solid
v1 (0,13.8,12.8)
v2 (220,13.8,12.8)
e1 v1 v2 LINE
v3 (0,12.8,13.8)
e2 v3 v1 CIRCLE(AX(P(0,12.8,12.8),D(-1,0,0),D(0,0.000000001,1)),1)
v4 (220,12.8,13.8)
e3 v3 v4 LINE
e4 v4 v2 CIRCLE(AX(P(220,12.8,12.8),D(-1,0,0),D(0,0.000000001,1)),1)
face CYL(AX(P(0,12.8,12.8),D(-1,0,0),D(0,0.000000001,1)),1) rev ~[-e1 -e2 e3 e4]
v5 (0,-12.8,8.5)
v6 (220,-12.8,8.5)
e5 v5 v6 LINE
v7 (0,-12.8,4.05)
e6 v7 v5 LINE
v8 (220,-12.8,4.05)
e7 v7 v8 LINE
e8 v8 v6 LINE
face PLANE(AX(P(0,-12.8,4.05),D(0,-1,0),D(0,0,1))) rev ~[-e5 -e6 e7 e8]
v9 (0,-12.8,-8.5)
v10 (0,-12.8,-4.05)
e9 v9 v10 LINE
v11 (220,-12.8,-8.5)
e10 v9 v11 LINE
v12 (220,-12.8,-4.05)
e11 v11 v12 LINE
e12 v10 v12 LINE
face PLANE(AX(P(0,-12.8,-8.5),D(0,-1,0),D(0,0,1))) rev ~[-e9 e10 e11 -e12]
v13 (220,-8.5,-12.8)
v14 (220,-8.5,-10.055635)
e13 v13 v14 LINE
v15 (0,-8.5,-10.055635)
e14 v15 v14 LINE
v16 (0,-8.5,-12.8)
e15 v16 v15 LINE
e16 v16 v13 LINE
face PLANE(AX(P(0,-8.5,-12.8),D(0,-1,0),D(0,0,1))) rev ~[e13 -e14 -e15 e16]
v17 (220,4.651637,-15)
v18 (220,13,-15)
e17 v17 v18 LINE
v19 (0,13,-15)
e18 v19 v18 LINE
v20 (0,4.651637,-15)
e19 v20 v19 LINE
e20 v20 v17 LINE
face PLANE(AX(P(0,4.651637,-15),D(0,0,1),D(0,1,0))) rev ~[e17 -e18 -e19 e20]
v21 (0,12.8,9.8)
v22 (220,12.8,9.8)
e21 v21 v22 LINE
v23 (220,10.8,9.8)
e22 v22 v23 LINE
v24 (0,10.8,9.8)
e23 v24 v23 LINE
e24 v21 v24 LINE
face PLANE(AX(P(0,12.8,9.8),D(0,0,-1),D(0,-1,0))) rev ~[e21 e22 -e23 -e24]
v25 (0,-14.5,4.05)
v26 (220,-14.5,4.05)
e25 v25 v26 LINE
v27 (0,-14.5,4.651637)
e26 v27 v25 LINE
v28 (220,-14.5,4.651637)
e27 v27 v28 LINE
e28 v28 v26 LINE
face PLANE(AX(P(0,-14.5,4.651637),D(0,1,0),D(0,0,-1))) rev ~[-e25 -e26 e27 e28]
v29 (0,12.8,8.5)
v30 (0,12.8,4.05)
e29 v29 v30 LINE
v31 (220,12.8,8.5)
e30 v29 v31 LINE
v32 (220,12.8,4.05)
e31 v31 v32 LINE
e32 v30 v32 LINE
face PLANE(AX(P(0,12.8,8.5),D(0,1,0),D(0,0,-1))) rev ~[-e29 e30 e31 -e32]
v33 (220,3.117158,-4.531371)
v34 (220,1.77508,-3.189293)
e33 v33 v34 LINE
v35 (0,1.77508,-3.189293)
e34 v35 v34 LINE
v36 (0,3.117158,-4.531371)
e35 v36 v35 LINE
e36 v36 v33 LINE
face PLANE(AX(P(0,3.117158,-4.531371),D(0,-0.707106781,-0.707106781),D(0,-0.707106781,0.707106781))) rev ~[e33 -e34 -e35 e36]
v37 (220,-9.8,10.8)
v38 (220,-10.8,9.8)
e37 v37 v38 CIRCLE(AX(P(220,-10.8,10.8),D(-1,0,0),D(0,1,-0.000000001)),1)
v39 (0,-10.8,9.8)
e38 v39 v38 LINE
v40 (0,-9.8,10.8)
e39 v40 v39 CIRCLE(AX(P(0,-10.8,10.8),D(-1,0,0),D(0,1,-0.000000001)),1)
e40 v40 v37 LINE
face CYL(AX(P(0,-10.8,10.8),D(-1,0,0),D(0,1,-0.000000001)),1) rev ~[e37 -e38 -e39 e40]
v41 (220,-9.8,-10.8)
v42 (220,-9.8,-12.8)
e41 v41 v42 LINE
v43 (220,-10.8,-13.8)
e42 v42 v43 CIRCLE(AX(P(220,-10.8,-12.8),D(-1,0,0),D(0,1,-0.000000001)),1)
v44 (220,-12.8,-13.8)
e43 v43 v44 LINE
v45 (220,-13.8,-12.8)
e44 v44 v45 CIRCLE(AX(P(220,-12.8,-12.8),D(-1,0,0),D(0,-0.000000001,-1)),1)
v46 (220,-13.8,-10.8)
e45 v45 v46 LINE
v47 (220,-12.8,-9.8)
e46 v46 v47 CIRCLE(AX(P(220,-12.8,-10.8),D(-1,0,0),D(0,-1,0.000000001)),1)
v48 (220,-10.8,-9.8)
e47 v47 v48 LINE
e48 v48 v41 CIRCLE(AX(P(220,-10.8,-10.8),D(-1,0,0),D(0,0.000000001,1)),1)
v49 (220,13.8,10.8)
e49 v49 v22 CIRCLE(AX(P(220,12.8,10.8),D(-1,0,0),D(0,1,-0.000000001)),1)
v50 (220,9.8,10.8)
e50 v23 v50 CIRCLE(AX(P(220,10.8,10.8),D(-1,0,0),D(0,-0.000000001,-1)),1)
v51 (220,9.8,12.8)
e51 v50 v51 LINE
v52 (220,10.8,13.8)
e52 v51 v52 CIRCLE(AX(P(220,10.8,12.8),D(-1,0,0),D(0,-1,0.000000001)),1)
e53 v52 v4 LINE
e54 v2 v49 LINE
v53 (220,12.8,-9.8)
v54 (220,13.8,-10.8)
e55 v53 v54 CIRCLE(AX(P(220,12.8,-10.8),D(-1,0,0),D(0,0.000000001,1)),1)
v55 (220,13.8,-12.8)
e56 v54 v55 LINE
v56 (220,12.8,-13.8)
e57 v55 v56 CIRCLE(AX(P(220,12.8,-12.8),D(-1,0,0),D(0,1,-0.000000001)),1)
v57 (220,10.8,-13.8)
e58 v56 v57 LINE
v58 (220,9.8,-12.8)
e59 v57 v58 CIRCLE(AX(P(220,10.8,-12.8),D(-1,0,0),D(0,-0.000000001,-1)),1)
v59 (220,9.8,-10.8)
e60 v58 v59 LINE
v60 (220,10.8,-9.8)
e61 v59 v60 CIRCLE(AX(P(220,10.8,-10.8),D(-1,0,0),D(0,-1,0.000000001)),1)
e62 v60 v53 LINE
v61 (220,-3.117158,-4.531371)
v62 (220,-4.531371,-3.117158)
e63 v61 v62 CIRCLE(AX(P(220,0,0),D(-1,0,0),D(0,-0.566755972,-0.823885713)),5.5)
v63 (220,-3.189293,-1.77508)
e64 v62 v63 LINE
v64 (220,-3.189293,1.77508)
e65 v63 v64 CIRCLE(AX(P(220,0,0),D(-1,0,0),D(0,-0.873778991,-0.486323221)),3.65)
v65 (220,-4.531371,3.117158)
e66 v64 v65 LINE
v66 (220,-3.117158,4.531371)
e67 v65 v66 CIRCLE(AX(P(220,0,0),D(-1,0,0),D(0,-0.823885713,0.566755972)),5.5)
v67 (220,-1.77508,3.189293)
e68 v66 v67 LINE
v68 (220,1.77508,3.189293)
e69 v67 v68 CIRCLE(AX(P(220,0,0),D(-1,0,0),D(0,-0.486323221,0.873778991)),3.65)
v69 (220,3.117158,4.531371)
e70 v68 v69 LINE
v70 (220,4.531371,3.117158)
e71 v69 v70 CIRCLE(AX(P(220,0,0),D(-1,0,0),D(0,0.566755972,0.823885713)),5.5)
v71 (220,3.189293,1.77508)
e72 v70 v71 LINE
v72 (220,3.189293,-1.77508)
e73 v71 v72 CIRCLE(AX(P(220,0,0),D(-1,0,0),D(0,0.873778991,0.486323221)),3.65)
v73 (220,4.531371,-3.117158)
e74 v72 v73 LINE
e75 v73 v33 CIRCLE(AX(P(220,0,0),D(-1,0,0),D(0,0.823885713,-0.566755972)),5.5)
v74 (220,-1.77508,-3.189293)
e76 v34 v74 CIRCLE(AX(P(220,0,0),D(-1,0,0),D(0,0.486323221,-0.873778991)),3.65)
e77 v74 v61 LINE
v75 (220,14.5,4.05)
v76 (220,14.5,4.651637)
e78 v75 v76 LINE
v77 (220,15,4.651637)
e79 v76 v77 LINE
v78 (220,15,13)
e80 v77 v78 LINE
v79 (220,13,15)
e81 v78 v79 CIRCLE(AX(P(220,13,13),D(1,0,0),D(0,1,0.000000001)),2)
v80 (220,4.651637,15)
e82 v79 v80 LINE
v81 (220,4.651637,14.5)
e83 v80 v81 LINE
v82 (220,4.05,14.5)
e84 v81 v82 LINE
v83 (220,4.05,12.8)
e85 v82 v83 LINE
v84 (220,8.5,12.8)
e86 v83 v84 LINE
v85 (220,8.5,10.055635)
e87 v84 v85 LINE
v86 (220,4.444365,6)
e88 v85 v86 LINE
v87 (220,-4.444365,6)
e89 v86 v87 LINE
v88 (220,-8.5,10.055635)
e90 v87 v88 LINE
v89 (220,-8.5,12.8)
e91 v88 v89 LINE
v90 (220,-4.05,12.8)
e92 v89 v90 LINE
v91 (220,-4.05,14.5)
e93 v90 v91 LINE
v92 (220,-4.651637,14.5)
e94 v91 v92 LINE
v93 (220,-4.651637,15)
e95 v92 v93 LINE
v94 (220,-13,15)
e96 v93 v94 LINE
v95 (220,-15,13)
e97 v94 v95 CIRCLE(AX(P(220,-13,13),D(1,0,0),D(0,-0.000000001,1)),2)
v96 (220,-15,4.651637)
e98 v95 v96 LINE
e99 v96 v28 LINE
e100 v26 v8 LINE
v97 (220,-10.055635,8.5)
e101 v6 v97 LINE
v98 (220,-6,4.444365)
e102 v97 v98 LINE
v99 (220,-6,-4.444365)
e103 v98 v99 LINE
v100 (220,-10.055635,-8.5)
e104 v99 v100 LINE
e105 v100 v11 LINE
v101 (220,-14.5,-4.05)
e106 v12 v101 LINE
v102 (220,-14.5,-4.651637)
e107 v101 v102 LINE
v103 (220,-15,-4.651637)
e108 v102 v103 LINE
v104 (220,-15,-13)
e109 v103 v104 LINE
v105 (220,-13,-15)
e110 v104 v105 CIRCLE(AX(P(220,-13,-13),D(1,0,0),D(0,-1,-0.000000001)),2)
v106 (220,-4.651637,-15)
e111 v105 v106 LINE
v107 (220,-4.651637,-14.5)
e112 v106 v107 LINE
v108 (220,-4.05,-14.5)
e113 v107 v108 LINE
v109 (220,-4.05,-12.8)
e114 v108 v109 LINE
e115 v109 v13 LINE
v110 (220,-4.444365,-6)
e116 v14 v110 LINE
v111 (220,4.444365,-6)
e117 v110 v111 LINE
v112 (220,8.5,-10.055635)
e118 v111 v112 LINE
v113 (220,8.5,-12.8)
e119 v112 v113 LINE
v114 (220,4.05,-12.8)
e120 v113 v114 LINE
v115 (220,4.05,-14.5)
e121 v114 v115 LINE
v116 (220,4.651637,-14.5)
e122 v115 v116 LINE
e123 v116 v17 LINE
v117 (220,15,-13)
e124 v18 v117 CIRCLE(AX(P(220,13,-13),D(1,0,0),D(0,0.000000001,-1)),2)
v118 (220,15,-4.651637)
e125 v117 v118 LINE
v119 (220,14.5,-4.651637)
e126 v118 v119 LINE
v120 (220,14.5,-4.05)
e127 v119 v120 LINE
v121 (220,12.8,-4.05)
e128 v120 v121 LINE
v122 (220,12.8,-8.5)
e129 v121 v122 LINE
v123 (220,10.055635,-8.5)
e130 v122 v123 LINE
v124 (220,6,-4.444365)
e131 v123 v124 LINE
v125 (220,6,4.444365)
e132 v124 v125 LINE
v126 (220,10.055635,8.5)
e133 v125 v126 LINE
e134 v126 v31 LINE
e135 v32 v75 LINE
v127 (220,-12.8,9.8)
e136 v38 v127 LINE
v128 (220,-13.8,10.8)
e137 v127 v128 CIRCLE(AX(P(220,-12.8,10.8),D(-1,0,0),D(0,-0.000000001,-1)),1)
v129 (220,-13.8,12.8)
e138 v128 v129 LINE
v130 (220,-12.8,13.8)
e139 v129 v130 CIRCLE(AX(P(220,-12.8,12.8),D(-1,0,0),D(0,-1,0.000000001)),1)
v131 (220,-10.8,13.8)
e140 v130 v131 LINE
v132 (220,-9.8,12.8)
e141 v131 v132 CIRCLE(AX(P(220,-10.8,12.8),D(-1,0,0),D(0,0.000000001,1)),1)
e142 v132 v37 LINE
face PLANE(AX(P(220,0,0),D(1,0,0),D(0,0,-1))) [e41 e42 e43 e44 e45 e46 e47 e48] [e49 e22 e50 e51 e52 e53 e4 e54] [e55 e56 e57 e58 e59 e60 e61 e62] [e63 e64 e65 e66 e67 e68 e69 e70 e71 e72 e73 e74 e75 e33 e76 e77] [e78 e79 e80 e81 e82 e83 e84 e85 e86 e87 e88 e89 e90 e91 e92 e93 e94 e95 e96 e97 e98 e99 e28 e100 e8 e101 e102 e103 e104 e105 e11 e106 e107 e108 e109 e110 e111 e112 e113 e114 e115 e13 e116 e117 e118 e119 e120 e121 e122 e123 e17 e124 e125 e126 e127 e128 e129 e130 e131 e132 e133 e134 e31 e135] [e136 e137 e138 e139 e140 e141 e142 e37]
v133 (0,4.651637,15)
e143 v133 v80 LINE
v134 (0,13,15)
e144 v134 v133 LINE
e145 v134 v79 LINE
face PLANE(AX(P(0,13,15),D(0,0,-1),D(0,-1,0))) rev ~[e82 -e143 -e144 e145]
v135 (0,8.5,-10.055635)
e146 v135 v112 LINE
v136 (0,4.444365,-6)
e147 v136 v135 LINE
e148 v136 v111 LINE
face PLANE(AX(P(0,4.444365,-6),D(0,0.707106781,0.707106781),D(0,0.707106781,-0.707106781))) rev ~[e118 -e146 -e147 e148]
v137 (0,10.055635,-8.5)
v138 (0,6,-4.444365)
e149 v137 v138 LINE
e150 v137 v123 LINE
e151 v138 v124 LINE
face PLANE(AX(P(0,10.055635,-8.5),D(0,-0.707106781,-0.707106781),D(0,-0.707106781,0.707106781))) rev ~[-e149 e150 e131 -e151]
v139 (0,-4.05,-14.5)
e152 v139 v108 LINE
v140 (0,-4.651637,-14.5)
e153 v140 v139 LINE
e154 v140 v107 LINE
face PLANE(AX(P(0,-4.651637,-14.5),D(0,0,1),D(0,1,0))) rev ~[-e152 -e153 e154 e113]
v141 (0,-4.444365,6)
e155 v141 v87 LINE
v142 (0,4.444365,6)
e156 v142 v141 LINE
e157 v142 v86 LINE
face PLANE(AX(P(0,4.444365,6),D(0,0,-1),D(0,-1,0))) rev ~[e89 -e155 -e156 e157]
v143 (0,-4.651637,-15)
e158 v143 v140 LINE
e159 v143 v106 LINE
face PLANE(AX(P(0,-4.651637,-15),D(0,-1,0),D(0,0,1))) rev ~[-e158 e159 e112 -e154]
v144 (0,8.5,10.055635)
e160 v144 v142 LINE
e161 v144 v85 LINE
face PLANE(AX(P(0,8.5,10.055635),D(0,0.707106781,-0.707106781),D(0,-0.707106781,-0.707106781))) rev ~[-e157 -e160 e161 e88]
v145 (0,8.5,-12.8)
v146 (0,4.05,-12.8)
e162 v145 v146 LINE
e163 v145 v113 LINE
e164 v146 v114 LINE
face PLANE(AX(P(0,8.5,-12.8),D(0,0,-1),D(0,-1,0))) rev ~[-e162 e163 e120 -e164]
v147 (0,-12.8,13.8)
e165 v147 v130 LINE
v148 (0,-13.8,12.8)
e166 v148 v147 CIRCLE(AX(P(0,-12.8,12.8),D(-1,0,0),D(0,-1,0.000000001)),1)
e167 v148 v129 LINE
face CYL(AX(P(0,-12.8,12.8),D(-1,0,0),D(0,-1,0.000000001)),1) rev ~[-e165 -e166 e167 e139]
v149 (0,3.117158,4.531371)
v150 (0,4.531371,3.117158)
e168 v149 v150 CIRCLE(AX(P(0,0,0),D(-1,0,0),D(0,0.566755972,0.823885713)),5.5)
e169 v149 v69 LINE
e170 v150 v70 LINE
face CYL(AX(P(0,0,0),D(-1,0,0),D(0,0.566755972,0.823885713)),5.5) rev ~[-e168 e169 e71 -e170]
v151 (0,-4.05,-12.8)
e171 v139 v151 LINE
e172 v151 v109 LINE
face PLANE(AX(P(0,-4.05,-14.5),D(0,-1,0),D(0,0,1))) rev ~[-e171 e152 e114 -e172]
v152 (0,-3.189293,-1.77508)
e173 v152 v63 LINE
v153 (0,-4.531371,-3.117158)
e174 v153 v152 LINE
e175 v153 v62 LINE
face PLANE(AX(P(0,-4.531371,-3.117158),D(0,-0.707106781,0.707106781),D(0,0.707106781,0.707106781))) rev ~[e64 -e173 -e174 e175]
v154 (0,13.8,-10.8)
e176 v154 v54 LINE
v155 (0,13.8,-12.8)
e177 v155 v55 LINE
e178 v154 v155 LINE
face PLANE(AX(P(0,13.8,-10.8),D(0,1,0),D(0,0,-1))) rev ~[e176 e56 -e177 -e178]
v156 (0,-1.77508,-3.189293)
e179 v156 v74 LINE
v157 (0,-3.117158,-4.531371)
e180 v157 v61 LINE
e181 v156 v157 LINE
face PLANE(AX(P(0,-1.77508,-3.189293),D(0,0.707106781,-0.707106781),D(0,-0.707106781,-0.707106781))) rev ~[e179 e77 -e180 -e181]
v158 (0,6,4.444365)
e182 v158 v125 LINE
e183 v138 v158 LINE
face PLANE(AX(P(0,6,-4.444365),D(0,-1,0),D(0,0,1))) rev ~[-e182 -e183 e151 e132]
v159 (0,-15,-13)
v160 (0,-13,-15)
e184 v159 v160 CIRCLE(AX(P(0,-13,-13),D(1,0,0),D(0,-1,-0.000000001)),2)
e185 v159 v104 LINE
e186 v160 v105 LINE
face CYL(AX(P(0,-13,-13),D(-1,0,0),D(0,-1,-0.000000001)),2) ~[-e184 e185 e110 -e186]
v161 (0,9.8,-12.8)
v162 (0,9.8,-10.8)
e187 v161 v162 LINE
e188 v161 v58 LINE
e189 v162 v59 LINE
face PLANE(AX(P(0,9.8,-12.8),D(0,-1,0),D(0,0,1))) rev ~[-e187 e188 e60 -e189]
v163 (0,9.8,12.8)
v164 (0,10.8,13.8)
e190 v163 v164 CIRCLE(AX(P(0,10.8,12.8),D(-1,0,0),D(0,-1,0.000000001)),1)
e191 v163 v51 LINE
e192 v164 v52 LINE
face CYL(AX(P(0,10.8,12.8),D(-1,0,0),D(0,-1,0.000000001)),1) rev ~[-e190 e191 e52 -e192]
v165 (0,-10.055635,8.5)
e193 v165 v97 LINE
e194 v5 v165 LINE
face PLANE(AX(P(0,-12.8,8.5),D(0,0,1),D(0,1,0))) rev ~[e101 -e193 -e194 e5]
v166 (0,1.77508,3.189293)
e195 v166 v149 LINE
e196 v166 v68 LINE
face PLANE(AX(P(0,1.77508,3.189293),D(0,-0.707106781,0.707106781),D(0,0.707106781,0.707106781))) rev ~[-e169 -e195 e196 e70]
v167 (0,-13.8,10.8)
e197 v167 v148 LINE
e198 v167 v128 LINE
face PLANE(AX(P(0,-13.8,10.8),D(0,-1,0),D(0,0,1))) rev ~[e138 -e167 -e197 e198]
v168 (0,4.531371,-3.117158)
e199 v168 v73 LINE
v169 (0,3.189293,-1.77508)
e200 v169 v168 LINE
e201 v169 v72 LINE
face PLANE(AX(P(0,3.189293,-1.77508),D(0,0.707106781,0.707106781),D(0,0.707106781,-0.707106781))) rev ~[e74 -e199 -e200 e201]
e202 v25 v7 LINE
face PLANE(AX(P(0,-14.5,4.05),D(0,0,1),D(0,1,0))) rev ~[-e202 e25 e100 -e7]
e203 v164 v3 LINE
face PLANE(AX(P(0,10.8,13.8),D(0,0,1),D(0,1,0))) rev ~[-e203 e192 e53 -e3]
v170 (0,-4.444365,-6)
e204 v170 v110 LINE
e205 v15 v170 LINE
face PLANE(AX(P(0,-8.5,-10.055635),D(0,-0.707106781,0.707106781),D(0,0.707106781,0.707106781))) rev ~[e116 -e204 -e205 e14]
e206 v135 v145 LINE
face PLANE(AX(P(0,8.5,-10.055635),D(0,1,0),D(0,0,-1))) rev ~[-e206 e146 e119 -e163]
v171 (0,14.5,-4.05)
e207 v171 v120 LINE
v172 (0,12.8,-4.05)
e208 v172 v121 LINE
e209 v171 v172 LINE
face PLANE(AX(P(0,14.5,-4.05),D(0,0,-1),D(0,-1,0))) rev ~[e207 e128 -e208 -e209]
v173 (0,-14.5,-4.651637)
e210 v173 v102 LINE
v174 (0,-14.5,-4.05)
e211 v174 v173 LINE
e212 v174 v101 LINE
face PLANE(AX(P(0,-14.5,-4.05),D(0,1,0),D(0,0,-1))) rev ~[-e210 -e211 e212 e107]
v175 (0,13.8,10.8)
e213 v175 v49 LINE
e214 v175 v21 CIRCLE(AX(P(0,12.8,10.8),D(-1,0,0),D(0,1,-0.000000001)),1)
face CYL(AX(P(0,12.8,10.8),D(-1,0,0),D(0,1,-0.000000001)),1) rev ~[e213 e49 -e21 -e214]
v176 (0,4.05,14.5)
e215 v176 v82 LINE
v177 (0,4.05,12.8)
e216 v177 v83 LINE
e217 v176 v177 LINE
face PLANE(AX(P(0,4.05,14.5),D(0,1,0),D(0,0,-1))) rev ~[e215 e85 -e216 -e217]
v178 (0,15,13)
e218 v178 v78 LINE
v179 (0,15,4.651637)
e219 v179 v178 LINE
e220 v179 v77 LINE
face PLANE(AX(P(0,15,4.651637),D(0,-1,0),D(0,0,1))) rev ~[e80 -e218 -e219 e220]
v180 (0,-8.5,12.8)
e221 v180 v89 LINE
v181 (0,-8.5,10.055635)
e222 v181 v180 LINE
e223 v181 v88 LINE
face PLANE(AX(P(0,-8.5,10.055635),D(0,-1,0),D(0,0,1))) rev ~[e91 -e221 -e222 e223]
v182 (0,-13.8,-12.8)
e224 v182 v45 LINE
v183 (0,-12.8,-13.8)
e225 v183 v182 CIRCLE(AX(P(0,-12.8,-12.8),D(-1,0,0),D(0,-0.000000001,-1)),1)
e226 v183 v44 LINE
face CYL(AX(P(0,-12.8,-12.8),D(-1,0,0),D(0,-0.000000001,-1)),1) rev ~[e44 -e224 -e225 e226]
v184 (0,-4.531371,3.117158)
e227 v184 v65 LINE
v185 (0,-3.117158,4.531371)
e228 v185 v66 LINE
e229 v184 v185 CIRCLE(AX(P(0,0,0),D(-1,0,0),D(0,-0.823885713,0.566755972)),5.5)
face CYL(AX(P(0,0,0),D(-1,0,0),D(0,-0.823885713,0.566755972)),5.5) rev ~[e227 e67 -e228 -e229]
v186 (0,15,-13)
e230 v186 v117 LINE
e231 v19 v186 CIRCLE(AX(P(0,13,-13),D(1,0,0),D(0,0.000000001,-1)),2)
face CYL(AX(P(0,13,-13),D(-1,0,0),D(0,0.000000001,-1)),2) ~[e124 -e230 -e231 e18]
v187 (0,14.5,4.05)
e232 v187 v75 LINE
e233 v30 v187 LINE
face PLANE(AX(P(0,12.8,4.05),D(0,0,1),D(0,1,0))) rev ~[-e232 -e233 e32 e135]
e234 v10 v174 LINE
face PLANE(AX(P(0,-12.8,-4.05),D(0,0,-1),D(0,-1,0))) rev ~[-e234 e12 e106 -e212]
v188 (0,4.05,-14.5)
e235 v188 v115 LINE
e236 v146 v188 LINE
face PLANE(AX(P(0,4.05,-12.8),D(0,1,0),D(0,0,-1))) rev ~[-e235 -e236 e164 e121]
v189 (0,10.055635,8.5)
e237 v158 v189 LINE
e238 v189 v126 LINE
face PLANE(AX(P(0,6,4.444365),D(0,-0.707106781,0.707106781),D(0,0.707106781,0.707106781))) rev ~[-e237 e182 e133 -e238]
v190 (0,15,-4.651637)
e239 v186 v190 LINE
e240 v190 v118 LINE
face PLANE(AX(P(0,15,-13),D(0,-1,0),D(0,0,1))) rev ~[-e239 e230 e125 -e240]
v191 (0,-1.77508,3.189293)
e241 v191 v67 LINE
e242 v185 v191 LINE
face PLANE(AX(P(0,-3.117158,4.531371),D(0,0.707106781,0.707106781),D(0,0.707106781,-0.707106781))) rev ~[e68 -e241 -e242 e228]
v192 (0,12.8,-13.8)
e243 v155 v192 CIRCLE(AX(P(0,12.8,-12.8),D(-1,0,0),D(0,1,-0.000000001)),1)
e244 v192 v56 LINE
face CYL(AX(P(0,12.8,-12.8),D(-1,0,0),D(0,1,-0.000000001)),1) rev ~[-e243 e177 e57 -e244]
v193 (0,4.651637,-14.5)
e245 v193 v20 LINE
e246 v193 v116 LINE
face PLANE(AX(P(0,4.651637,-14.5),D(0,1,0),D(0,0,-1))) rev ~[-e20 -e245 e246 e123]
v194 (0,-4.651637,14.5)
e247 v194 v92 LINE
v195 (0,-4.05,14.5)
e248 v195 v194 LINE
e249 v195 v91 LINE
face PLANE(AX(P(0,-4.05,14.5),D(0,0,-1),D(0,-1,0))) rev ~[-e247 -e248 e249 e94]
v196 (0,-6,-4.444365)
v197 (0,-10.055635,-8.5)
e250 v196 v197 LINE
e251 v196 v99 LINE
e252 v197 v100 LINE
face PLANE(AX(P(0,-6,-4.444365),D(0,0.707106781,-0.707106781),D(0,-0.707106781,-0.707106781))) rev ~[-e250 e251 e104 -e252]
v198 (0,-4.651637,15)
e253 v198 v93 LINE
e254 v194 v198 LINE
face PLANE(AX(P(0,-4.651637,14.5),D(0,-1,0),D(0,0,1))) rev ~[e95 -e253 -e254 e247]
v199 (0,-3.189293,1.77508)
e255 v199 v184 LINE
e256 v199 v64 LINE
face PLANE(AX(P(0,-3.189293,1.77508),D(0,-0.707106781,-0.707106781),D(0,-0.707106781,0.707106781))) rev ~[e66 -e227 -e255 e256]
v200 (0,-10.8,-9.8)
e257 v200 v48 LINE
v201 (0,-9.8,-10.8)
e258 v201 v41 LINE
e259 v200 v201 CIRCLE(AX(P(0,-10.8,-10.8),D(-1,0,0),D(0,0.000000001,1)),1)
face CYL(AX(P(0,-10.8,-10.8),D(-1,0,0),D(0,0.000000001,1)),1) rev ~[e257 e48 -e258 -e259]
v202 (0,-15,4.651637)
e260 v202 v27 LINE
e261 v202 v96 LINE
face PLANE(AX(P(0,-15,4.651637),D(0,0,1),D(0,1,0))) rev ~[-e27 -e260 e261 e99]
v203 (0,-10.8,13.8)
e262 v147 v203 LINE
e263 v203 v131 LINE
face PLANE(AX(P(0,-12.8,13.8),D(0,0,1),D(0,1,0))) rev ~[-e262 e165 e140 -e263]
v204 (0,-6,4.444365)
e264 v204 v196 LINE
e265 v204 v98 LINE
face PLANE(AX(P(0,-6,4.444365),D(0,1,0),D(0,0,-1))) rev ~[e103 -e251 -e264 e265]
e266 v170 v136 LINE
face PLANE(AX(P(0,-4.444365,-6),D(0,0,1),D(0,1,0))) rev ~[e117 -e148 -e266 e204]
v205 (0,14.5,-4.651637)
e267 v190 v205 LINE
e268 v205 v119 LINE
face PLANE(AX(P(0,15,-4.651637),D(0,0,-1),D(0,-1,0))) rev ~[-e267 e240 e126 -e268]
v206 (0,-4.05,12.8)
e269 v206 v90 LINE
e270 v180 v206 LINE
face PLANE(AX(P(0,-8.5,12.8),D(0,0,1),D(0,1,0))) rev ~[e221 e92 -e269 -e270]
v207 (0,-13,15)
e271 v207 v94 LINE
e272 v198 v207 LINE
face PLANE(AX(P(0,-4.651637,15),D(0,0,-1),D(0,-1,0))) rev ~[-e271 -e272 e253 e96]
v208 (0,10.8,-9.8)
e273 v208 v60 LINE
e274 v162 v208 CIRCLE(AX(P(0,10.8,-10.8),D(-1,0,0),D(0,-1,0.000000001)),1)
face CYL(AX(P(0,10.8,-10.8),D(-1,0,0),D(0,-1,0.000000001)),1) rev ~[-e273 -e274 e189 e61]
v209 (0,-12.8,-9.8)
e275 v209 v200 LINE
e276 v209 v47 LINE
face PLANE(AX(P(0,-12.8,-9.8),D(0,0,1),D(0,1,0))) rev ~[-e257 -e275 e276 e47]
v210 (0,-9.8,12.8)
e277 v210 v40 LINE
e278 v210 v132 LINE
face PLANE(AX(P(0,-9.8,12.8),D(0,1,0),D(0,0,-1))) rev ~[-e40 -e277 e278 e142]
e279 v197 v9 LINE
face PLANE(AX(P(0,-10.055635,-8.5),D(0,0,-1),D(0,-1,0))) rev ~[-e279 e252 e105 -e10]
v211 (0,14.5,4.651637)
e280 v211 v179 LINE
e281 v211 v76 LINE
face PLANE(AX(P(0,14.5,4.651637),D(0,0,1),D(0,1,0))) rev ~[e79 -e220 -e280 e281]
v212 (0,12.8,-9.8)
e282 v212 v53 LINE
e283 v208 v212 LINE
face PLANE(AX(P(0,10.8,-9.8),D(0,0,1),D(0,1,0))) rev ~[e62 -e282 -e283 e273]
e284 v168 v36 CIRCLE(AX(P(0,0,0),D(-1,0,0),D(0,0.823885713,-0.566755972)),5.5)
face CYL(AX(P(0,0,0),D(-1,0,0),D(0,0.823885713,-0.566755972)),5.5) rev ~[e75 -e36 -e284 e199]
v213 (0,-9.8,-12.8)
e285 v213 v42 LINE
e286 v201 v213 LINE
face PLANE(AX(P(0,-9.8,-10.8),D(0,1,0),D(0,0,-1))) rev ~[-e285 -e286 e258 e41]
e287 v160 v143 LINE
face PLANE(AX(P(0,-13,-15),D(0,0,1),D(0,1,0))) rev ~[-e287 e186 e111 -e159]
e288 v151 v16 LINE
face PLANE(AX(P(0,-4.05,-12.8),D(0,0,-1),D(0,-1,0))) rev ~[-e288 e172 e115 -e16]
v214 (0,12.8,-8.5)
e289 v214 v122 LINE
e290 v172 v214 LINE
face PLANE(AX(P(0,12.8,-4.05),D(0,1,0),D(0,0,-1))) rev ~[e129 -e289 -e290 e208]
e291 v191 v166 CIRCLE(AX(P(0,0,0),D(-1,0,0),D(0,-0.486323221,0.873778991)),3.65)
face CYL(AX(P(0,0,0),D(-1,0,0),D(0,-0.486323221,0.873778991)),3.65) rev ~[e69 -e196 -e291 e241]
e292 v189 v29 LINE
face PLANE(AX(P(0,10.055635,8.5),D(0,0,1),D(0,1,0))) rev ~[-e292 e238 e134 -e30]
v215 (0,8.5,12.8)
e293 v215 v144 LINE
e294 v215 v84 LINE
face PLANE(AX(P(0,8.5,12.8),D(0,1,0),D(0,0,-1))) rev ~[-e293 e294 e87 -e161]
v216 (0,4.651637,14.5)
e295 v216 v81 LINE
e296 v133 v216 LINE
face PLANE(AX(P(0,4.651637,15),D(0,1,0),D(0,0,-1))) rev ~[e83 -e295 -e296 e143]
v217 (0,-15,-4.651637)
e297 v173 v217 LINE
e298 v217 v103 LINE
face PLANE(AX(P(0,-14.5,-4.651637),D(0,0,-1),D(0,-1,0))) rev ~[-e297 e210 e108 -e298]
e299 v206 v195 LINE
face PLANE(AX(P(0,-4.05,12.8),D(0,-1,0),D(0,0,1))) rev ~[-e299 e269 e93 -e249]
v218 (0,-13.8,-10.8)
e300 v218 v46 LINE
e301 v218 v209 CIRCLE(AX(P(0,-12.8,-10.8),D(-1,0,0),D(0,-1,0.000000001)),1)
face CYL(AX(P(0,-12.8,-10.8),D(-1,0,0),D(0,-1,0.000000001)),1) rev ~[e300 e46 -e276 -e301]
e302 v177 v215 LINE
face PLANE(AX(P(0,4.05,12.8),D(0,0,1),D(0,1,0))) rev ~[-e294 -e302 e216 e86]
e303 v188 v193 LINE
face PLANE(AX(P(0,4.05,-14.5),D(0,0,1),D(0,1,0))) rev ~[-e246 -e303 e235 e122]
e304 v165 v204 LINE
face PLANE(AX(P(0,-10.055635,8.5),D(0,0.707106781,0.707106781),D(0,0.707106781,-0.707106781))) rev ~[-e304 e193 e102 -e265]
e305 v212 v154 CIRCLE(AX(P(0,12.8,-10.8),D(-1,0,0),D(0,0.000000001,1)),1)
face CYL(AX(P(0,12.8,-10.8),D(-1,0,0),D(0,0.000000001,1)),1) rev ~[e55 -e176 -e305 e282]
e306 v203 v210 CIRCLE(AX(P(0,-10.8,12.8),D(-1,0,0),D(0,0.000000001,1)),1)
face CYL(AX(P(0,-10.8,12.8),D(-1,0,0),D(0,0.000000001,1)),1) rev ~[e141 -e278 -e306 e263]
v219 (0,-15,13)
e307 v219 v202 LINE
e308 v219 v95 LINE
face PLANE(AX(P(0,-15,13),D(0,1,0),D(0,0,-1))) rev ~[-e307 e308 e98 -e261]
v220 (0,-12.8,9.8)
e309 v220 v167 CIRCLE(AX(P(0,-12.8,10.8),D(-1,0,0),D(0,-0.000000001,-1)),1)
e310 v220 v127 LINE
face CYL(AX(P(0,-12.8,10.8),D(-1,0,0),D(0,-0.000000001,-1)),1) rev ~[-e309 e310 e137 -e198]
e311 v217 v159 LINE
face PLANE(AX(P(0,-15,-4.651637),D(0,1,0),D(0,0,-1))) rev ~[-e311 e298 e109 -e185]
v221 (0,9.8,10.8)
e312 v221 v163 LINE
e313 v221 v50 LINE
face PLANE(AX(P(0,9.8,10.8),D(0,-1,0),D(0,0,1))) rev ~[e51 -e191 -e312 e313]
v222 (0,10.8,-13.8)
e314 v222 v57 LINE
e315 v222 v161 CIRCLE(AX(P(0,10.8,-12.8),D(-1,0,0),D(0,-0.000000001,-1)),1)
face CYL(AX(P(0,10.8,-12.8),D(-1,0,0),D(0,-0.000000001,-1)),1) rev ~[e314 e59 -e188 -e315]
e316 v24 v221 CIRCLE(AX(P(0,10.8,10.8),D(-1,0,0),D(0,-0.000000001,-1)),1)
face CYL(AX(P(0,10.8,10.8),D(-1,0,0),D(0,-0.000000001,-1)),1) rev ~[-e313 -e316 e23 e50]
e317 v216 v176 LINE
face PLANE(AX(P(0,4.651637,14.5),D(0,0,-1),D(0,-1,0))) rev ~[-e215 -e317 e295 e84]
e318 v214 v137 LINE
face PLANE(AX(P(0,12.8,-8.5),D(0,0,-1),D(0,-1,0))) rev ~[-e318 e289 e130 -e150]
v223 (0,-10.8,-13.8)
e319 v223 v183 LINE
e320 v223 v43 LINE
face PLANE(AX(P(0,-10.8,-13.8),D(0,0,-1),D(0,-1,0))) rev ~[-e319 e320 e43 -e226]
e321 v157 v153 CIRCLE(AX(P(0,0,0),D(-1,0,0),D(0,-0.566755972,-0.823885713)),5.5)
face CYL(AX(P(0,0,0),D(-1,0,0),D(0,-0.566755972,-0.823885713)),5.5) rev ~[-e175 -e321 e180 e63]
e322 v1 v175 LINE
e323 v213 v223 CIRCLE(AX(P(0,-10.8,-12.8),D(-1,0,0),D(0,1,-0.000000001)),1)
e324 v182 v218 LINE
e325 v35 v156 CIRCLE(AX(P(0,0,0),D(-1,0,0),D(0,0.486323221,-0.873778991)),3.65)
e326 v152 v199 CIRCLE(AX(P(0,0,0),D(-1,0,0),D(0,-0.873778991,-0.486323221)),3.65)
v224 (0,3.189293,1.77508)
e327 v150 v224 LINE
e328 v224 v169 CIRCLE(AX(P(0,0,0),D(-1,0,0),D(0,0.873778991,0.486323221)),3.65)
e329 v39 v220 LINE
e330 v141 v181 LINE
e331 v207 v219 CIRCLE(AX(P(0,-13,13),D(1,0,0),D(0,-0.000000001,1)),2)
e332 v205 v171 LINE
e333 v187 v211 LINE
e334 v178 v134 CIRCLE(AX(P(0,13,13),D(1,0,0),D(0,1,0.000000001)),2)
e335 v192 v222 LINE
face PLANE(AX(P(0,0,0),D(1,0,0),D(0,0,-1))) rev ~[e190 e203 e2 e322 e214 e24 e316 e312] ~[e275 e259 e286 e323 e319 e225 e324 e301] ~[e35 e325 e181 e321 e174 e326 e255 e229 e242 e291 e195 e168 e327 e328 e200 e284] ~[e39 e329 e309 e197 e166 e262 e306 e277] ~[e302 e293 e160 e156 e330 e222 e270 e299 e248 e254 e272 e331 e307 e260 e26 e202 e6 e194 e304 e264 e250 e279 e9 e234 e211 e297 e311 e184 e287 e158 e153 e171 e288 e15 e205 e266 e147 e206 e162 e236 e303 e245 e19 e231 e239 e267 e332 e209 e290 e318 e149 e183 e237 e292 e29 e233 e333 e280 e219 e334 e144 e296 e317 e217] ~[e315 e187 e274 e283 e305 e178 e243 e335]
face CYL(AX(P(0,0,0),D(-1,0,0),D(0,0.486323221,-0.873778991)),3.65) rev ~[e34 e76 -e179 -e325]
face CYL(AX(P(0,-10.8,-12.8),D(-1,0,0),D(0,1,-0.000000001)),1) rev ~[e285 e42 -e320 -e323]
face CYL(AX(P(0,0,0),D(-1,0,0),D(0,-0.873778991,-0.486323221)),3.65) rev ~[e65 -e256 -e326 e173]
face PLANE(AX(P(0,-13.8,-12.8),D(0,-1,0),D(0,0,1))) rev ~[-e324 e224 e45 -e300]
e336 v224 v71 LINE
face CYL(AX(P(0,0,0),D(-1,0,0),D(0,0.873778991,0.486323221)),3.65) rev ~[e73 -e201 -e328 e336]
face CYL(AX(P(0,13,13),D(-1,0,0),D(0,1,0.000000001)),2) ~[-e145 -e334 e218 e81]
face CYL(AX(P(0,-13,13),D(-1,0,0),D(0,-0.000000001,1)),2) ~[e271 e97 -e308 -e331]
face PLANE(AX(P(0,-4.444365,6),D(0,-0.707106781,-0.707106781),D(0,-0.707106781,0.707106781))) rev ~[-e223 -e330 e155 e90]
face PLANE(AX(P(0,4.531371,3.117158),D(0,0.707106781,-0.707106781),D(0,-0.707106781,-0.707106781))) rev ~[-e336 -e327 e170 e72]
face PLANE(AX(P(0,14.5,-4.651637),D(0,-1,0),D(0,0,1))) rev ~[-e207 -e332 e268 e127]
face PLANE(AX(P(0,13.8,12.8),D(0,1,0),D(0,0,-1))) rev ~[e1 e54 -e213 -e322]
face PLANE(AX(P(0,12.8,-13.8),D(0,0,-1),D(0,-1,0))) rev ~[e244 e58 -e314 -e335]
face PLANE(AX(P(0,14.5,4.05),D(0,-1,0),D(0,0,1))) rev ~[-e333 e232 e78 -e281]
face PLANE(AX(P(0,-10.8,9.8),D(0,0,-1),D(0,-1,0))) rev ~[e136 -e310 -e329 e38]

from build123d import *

# Parameters (mm, degrees)
AUFSATZ_LINEAR_AUSTRAGEN1_DEPTH = 220


with BuildPart() as part:
    # Skizze1 → Aufsatz-Linear austragen1 (new body)
    with BuildSketch(Plane(origin=(0, 0, 0), x_dir=(0, 0, -1), z_dir=(1, 0, 0))):
        with BuildLine():
            Line((10.055634919, 8.5), (12.8, 8.5))
            Line((12.8, 8.5), (12.8, 4.05))
            Line((12.8, 4.05), (14.5, 4.05))
            Line((14.5, 4.05), (14.5, 4.651637069))
            Line((14.5, 4.651637069), (15, 4.651637069))
            Line((15, 4.651637069), (15, 13))
            ThreePointArc((15, 13), (14.414213562, 14.414213562), (13, 15))
            Line((13, 15), (4.651637069, 15))
            Line((4.651637069, 15), (4.651637069, 14.5))
            Line((4.651637069, 14.5), (4.05, 14.5))
            Line((4.05, 14.5), (4.05, 12.8))
            Line((4.05, 12.8), (8.5, 12.8))
            Line((8.5, 12.8), (8.5, 10.055634919))
            Line((8.5, 10.055634919), (4.444365081, 6))
            Line((4.444365081, 6), (-4.444365081, 6))
            Line((-4.444365081, 6), (-8.5, 10.055634919))
            Line((-8.5, 10.055634919), (-8.5, 12.8))
            Line((-8.5, 12.8), (-4.05, 12.8))
            Line((-4.05, 12.8), (-4.05, 14.5))
            Line((-4.05, 14.5), (-4.651637069, 14.5))
            Line((-4.651637069, 14.5), (-4.651637069, 15))
            Line((-4.651637069, 15), (-13, 15))
            ThreePointArc((-13, 15), (-14.414213562, 14.414213562), (-15, 13))
            Line((-15, 13), (-15, 4.651637069))
            Line((-15, 4.651637069), (-14.5, 4.651637069))
            Line((-14.5, 4.651637069), (-14.5, 4.05))
            Line((-14.5, 4.05), (-12.8, 4.05))
            Line((-12.8, 4.05), (-12.8, 8.5))
            Line((-12.8, 8.5), (-10.055634919, 8.5))
            Line((-10.055634919, 8.5), (-6, 4.444365081))
            Line((-6, 4.444365081), (-6, -4.444365081))
            Line((-6, -4.444365081), (-10.055634919, -8.5))
            Line((-10.055634919, -8.5), (-12.8, -8.5))
            Line((-12.8, -8.5), (-12.8, -4.05))
            Line((-12.8, -4.05), (-14.5, -4.05))
            Line((-14.5, -4.05), (-14.5, -4.651637069))
            Line((-14.5, -4.651637069), (-15, -4.651637069))
            Line((-15, -4.651637069), (-15, -13))
            ThreePointArc((-15, -13), (-14.414213562, -14.414213562), (-13, -15))
            Line((-13, -15), (-4.651637069, -15))
            Line((-4.651637069, -15), (-4.651637069, -14.5))
            Line((-4.651637069, -14.5), (-4.05, -14.5))
            Line((-4.05, -14.5), (-4.05, -12.8))
            Line((-4.05, -12.8), (-8.5, -12.8))
            Line((-8.5, -12.8), (-8.5, -10.055634919))
            Line((-8.5, -10.055634919), (-4.444365081, -6))
            Line((-4.444365081, -6), (4.444365081, -6))
            Line((4.444365081, -6), (8.5, -10.055634919))
            Line((8.5, -10.055634919), (8.5, -12.8))
            Line((8.5, -12.8), (4.05, -12.8))
            Line((4.05, -12.8), (4.05, -14.5))
            Line((4.05, -14.5), (4.651637069, -14.5))
            Line((4.651637069, -14.5), (4.651637069, -15))
            Line((4.651637069, -15), (13, -15))
            ThreePointArc((13, -15), (14.414213562, -14.414213562), (15, -13))
            Line((15, -13), (15, -4.651637069))
            Line((15, -4.651637069), (14.5, -4.651637069))
            Line((14.5, -4.651637069), (14.5, -4.05))
            Line((14.5, -4.05), (12.8, -4.05))
            Line((12.8, -4.05), (12.8, -8.5))
            Line((12.8, -8.5), (10.055634919, -8.5))
            Line((10.055634919, -8.5), (6, -4.444365081))
            Line((6, -4.444365081), (6, 4.444365081))
            Line((6, 4.444365081), (10.055634919, 8.5))
        make_face()
        with BuildLine():
            ThreePointArc((12.8, 13.8), (13.507106781, 13.507106781), (13.8, 12.8))
            Line((13.8, 12.8), (13.8, 10.8))
            ThreePointArc((13.8, 10.8), (13.507106781, 10.092893219), (12.8, 9.8))
            Line((12.8, 9.8), (10.8, 9.8))
            ThreePointArc((10.8, 9.8), (10.092893219, 10.092893219), (9.8, 10.8))
            Line((9.8, 10.8), (9.8, 12.8))
            ThreePointArc((9.8, 12.8), (10.092893219, 13.507106781), (10.8, 13.8))
            Line((10.8, 13.8), (12.8, 13.8))
        make_face(mode=Mode.SUBTRACT)
        with BuildLine():
            Line((-3.117157854, 4.531371416), (-1.775079755, 3.189293317))
            ThreePointArc((-1.775079755, 3.189293317), (0, 3.65), (1.775079755, 3.189293317))
            Line((1.775079755, 3.189293317), (3.117157854, 4.531371416))
            ThreePointArc((3.117157854, 4.531371416), (3.889087297, 3.889087297), (4.531371416, 3.117157854))
            Line((4.531371416, 3.117157854), (3.189293317, 1.775079755))
            ThreePointArc((3.189293317, 1.775079755), (3.65, 0), (3.189293317, -1.775079755))
            Line((3.189293317, -1.775079755), (4.531371416, -3.117157854))
            ThreePointArc((4.531371416, -3.117157854), (3.889087297, -3.889087297), (3.117157854, -4.531371416))
            Line((3.117157854, -4.531371416), (1.775079755, -3.189293317))
            ThreePointArc((1.775079755, -3.189293317), (0, -3.65), (-1.775079755, -3.189293317))
            Line((-1.775079755, -3.189293317), (-3.117157854, -4.531371416))
            ThreePointArc((-3.117157854, -4.531371416), (-3.889087297, -3.889087297), (-4.531371416, -3.117157854))
            Line((-4.531371416, -3.117157854), (-3.189293317, -1.775079755))
            ThreePointArc((-3.189293317, -1.775079755), (-3.65, 0), (-3.189293317, 1.775079755))
            Line((-3.189293317, 1.775079755), (-4.531371416, 3.117157854))
            ThreePointArc((-4.531371416, 3.117157854), (-3.889087297, 3.889087297), (-3.117157854, 4.531371416))
        make_face(mode=Mode.SUBTRACT)
        with BuildLine():
            ThreePointArc((-13.8, 12.8), (-13.507106781, 13.507106781), (-12.8, 13.8))
            Line((-12.8, 13.8), (-10.8, 13.8))
            ThreePointArc((-10.8, 13.8), (-10.092893219, 13.507106781), (-9.8, 12.8))
            Line((-9.8, 12.8), (-9.8, 10.8))
            ThreePointArc((-9.8, 10.8), (-10.092893219, 10.092893219), (-10.8, 9.8))
            Line((-10.8, 9.8), (-12.8, 9.8))
            ThreePointArc((-12.8, 9.8), (-13.507106781, 10.092893219), (-13.8, 10.8))
            Line((-13.8, 10.8), (-13.8, 12.8))
        make_face(mode=Mode.SUBTRACT)
        with BuildLine():
            ThreePointArc((9.8, -10.8), (10.092893219, -10.092893219), (10.8, -9.8))
            Line((10.8, -9.8), (12.8, -9.8))
            ThreePointArc((12.8, -9.8), (13.507106781, -10.092893219), (13.8, -10.8))
            Line((13.8, -10.8), (13.8, -12.8))
            ThreePointArc((13.8, -12.8), (13.507106781, -13.507106781), (12.8, -13.8))
            Line((12.8, -13.8), (10.8, -13.8))
            ThreePointArc((10.8, -13.8), (10.092893219, -13.507106781), (9.8, -12.8))
            Line((9.8, -12.8), (9.8, -10.8))
        make_face(mode=Mode.SUBTRACT)
        with BuildLine():
            Line((-9.8, -10.8), (-9.8, -12.8))
            ThreePointArc((-9.8, -12.8), (-10.092893219, -13.507106781), (-10.8, -13.8))
            Line((-10.8, -13.8), (-12.8, -13.8))
            ThreePointArc((-12.8, -13.8), (-13.507106781, -13.507106781), (-13.8, -12.8))
            Line((-13.8, -12.8), (-13.8, -10.8))
            ThreePointArc((-13.8, -10.8), (-13.507106781, -10.092893219), (-12.8, -9.8))
            Line((-12.8, -9.8), (-10.8, -9.8))
            ThreePointArc((-10.8, -9.8), (-10.092893219, -10.092893219), (-9.8, -10.8))
        make_face(mode=Mode.SUBTRACT)
    extrude(amount=AUFSATZ_LINEAR_AUSTRAGEN1_DEPTH)


solid = part.part
